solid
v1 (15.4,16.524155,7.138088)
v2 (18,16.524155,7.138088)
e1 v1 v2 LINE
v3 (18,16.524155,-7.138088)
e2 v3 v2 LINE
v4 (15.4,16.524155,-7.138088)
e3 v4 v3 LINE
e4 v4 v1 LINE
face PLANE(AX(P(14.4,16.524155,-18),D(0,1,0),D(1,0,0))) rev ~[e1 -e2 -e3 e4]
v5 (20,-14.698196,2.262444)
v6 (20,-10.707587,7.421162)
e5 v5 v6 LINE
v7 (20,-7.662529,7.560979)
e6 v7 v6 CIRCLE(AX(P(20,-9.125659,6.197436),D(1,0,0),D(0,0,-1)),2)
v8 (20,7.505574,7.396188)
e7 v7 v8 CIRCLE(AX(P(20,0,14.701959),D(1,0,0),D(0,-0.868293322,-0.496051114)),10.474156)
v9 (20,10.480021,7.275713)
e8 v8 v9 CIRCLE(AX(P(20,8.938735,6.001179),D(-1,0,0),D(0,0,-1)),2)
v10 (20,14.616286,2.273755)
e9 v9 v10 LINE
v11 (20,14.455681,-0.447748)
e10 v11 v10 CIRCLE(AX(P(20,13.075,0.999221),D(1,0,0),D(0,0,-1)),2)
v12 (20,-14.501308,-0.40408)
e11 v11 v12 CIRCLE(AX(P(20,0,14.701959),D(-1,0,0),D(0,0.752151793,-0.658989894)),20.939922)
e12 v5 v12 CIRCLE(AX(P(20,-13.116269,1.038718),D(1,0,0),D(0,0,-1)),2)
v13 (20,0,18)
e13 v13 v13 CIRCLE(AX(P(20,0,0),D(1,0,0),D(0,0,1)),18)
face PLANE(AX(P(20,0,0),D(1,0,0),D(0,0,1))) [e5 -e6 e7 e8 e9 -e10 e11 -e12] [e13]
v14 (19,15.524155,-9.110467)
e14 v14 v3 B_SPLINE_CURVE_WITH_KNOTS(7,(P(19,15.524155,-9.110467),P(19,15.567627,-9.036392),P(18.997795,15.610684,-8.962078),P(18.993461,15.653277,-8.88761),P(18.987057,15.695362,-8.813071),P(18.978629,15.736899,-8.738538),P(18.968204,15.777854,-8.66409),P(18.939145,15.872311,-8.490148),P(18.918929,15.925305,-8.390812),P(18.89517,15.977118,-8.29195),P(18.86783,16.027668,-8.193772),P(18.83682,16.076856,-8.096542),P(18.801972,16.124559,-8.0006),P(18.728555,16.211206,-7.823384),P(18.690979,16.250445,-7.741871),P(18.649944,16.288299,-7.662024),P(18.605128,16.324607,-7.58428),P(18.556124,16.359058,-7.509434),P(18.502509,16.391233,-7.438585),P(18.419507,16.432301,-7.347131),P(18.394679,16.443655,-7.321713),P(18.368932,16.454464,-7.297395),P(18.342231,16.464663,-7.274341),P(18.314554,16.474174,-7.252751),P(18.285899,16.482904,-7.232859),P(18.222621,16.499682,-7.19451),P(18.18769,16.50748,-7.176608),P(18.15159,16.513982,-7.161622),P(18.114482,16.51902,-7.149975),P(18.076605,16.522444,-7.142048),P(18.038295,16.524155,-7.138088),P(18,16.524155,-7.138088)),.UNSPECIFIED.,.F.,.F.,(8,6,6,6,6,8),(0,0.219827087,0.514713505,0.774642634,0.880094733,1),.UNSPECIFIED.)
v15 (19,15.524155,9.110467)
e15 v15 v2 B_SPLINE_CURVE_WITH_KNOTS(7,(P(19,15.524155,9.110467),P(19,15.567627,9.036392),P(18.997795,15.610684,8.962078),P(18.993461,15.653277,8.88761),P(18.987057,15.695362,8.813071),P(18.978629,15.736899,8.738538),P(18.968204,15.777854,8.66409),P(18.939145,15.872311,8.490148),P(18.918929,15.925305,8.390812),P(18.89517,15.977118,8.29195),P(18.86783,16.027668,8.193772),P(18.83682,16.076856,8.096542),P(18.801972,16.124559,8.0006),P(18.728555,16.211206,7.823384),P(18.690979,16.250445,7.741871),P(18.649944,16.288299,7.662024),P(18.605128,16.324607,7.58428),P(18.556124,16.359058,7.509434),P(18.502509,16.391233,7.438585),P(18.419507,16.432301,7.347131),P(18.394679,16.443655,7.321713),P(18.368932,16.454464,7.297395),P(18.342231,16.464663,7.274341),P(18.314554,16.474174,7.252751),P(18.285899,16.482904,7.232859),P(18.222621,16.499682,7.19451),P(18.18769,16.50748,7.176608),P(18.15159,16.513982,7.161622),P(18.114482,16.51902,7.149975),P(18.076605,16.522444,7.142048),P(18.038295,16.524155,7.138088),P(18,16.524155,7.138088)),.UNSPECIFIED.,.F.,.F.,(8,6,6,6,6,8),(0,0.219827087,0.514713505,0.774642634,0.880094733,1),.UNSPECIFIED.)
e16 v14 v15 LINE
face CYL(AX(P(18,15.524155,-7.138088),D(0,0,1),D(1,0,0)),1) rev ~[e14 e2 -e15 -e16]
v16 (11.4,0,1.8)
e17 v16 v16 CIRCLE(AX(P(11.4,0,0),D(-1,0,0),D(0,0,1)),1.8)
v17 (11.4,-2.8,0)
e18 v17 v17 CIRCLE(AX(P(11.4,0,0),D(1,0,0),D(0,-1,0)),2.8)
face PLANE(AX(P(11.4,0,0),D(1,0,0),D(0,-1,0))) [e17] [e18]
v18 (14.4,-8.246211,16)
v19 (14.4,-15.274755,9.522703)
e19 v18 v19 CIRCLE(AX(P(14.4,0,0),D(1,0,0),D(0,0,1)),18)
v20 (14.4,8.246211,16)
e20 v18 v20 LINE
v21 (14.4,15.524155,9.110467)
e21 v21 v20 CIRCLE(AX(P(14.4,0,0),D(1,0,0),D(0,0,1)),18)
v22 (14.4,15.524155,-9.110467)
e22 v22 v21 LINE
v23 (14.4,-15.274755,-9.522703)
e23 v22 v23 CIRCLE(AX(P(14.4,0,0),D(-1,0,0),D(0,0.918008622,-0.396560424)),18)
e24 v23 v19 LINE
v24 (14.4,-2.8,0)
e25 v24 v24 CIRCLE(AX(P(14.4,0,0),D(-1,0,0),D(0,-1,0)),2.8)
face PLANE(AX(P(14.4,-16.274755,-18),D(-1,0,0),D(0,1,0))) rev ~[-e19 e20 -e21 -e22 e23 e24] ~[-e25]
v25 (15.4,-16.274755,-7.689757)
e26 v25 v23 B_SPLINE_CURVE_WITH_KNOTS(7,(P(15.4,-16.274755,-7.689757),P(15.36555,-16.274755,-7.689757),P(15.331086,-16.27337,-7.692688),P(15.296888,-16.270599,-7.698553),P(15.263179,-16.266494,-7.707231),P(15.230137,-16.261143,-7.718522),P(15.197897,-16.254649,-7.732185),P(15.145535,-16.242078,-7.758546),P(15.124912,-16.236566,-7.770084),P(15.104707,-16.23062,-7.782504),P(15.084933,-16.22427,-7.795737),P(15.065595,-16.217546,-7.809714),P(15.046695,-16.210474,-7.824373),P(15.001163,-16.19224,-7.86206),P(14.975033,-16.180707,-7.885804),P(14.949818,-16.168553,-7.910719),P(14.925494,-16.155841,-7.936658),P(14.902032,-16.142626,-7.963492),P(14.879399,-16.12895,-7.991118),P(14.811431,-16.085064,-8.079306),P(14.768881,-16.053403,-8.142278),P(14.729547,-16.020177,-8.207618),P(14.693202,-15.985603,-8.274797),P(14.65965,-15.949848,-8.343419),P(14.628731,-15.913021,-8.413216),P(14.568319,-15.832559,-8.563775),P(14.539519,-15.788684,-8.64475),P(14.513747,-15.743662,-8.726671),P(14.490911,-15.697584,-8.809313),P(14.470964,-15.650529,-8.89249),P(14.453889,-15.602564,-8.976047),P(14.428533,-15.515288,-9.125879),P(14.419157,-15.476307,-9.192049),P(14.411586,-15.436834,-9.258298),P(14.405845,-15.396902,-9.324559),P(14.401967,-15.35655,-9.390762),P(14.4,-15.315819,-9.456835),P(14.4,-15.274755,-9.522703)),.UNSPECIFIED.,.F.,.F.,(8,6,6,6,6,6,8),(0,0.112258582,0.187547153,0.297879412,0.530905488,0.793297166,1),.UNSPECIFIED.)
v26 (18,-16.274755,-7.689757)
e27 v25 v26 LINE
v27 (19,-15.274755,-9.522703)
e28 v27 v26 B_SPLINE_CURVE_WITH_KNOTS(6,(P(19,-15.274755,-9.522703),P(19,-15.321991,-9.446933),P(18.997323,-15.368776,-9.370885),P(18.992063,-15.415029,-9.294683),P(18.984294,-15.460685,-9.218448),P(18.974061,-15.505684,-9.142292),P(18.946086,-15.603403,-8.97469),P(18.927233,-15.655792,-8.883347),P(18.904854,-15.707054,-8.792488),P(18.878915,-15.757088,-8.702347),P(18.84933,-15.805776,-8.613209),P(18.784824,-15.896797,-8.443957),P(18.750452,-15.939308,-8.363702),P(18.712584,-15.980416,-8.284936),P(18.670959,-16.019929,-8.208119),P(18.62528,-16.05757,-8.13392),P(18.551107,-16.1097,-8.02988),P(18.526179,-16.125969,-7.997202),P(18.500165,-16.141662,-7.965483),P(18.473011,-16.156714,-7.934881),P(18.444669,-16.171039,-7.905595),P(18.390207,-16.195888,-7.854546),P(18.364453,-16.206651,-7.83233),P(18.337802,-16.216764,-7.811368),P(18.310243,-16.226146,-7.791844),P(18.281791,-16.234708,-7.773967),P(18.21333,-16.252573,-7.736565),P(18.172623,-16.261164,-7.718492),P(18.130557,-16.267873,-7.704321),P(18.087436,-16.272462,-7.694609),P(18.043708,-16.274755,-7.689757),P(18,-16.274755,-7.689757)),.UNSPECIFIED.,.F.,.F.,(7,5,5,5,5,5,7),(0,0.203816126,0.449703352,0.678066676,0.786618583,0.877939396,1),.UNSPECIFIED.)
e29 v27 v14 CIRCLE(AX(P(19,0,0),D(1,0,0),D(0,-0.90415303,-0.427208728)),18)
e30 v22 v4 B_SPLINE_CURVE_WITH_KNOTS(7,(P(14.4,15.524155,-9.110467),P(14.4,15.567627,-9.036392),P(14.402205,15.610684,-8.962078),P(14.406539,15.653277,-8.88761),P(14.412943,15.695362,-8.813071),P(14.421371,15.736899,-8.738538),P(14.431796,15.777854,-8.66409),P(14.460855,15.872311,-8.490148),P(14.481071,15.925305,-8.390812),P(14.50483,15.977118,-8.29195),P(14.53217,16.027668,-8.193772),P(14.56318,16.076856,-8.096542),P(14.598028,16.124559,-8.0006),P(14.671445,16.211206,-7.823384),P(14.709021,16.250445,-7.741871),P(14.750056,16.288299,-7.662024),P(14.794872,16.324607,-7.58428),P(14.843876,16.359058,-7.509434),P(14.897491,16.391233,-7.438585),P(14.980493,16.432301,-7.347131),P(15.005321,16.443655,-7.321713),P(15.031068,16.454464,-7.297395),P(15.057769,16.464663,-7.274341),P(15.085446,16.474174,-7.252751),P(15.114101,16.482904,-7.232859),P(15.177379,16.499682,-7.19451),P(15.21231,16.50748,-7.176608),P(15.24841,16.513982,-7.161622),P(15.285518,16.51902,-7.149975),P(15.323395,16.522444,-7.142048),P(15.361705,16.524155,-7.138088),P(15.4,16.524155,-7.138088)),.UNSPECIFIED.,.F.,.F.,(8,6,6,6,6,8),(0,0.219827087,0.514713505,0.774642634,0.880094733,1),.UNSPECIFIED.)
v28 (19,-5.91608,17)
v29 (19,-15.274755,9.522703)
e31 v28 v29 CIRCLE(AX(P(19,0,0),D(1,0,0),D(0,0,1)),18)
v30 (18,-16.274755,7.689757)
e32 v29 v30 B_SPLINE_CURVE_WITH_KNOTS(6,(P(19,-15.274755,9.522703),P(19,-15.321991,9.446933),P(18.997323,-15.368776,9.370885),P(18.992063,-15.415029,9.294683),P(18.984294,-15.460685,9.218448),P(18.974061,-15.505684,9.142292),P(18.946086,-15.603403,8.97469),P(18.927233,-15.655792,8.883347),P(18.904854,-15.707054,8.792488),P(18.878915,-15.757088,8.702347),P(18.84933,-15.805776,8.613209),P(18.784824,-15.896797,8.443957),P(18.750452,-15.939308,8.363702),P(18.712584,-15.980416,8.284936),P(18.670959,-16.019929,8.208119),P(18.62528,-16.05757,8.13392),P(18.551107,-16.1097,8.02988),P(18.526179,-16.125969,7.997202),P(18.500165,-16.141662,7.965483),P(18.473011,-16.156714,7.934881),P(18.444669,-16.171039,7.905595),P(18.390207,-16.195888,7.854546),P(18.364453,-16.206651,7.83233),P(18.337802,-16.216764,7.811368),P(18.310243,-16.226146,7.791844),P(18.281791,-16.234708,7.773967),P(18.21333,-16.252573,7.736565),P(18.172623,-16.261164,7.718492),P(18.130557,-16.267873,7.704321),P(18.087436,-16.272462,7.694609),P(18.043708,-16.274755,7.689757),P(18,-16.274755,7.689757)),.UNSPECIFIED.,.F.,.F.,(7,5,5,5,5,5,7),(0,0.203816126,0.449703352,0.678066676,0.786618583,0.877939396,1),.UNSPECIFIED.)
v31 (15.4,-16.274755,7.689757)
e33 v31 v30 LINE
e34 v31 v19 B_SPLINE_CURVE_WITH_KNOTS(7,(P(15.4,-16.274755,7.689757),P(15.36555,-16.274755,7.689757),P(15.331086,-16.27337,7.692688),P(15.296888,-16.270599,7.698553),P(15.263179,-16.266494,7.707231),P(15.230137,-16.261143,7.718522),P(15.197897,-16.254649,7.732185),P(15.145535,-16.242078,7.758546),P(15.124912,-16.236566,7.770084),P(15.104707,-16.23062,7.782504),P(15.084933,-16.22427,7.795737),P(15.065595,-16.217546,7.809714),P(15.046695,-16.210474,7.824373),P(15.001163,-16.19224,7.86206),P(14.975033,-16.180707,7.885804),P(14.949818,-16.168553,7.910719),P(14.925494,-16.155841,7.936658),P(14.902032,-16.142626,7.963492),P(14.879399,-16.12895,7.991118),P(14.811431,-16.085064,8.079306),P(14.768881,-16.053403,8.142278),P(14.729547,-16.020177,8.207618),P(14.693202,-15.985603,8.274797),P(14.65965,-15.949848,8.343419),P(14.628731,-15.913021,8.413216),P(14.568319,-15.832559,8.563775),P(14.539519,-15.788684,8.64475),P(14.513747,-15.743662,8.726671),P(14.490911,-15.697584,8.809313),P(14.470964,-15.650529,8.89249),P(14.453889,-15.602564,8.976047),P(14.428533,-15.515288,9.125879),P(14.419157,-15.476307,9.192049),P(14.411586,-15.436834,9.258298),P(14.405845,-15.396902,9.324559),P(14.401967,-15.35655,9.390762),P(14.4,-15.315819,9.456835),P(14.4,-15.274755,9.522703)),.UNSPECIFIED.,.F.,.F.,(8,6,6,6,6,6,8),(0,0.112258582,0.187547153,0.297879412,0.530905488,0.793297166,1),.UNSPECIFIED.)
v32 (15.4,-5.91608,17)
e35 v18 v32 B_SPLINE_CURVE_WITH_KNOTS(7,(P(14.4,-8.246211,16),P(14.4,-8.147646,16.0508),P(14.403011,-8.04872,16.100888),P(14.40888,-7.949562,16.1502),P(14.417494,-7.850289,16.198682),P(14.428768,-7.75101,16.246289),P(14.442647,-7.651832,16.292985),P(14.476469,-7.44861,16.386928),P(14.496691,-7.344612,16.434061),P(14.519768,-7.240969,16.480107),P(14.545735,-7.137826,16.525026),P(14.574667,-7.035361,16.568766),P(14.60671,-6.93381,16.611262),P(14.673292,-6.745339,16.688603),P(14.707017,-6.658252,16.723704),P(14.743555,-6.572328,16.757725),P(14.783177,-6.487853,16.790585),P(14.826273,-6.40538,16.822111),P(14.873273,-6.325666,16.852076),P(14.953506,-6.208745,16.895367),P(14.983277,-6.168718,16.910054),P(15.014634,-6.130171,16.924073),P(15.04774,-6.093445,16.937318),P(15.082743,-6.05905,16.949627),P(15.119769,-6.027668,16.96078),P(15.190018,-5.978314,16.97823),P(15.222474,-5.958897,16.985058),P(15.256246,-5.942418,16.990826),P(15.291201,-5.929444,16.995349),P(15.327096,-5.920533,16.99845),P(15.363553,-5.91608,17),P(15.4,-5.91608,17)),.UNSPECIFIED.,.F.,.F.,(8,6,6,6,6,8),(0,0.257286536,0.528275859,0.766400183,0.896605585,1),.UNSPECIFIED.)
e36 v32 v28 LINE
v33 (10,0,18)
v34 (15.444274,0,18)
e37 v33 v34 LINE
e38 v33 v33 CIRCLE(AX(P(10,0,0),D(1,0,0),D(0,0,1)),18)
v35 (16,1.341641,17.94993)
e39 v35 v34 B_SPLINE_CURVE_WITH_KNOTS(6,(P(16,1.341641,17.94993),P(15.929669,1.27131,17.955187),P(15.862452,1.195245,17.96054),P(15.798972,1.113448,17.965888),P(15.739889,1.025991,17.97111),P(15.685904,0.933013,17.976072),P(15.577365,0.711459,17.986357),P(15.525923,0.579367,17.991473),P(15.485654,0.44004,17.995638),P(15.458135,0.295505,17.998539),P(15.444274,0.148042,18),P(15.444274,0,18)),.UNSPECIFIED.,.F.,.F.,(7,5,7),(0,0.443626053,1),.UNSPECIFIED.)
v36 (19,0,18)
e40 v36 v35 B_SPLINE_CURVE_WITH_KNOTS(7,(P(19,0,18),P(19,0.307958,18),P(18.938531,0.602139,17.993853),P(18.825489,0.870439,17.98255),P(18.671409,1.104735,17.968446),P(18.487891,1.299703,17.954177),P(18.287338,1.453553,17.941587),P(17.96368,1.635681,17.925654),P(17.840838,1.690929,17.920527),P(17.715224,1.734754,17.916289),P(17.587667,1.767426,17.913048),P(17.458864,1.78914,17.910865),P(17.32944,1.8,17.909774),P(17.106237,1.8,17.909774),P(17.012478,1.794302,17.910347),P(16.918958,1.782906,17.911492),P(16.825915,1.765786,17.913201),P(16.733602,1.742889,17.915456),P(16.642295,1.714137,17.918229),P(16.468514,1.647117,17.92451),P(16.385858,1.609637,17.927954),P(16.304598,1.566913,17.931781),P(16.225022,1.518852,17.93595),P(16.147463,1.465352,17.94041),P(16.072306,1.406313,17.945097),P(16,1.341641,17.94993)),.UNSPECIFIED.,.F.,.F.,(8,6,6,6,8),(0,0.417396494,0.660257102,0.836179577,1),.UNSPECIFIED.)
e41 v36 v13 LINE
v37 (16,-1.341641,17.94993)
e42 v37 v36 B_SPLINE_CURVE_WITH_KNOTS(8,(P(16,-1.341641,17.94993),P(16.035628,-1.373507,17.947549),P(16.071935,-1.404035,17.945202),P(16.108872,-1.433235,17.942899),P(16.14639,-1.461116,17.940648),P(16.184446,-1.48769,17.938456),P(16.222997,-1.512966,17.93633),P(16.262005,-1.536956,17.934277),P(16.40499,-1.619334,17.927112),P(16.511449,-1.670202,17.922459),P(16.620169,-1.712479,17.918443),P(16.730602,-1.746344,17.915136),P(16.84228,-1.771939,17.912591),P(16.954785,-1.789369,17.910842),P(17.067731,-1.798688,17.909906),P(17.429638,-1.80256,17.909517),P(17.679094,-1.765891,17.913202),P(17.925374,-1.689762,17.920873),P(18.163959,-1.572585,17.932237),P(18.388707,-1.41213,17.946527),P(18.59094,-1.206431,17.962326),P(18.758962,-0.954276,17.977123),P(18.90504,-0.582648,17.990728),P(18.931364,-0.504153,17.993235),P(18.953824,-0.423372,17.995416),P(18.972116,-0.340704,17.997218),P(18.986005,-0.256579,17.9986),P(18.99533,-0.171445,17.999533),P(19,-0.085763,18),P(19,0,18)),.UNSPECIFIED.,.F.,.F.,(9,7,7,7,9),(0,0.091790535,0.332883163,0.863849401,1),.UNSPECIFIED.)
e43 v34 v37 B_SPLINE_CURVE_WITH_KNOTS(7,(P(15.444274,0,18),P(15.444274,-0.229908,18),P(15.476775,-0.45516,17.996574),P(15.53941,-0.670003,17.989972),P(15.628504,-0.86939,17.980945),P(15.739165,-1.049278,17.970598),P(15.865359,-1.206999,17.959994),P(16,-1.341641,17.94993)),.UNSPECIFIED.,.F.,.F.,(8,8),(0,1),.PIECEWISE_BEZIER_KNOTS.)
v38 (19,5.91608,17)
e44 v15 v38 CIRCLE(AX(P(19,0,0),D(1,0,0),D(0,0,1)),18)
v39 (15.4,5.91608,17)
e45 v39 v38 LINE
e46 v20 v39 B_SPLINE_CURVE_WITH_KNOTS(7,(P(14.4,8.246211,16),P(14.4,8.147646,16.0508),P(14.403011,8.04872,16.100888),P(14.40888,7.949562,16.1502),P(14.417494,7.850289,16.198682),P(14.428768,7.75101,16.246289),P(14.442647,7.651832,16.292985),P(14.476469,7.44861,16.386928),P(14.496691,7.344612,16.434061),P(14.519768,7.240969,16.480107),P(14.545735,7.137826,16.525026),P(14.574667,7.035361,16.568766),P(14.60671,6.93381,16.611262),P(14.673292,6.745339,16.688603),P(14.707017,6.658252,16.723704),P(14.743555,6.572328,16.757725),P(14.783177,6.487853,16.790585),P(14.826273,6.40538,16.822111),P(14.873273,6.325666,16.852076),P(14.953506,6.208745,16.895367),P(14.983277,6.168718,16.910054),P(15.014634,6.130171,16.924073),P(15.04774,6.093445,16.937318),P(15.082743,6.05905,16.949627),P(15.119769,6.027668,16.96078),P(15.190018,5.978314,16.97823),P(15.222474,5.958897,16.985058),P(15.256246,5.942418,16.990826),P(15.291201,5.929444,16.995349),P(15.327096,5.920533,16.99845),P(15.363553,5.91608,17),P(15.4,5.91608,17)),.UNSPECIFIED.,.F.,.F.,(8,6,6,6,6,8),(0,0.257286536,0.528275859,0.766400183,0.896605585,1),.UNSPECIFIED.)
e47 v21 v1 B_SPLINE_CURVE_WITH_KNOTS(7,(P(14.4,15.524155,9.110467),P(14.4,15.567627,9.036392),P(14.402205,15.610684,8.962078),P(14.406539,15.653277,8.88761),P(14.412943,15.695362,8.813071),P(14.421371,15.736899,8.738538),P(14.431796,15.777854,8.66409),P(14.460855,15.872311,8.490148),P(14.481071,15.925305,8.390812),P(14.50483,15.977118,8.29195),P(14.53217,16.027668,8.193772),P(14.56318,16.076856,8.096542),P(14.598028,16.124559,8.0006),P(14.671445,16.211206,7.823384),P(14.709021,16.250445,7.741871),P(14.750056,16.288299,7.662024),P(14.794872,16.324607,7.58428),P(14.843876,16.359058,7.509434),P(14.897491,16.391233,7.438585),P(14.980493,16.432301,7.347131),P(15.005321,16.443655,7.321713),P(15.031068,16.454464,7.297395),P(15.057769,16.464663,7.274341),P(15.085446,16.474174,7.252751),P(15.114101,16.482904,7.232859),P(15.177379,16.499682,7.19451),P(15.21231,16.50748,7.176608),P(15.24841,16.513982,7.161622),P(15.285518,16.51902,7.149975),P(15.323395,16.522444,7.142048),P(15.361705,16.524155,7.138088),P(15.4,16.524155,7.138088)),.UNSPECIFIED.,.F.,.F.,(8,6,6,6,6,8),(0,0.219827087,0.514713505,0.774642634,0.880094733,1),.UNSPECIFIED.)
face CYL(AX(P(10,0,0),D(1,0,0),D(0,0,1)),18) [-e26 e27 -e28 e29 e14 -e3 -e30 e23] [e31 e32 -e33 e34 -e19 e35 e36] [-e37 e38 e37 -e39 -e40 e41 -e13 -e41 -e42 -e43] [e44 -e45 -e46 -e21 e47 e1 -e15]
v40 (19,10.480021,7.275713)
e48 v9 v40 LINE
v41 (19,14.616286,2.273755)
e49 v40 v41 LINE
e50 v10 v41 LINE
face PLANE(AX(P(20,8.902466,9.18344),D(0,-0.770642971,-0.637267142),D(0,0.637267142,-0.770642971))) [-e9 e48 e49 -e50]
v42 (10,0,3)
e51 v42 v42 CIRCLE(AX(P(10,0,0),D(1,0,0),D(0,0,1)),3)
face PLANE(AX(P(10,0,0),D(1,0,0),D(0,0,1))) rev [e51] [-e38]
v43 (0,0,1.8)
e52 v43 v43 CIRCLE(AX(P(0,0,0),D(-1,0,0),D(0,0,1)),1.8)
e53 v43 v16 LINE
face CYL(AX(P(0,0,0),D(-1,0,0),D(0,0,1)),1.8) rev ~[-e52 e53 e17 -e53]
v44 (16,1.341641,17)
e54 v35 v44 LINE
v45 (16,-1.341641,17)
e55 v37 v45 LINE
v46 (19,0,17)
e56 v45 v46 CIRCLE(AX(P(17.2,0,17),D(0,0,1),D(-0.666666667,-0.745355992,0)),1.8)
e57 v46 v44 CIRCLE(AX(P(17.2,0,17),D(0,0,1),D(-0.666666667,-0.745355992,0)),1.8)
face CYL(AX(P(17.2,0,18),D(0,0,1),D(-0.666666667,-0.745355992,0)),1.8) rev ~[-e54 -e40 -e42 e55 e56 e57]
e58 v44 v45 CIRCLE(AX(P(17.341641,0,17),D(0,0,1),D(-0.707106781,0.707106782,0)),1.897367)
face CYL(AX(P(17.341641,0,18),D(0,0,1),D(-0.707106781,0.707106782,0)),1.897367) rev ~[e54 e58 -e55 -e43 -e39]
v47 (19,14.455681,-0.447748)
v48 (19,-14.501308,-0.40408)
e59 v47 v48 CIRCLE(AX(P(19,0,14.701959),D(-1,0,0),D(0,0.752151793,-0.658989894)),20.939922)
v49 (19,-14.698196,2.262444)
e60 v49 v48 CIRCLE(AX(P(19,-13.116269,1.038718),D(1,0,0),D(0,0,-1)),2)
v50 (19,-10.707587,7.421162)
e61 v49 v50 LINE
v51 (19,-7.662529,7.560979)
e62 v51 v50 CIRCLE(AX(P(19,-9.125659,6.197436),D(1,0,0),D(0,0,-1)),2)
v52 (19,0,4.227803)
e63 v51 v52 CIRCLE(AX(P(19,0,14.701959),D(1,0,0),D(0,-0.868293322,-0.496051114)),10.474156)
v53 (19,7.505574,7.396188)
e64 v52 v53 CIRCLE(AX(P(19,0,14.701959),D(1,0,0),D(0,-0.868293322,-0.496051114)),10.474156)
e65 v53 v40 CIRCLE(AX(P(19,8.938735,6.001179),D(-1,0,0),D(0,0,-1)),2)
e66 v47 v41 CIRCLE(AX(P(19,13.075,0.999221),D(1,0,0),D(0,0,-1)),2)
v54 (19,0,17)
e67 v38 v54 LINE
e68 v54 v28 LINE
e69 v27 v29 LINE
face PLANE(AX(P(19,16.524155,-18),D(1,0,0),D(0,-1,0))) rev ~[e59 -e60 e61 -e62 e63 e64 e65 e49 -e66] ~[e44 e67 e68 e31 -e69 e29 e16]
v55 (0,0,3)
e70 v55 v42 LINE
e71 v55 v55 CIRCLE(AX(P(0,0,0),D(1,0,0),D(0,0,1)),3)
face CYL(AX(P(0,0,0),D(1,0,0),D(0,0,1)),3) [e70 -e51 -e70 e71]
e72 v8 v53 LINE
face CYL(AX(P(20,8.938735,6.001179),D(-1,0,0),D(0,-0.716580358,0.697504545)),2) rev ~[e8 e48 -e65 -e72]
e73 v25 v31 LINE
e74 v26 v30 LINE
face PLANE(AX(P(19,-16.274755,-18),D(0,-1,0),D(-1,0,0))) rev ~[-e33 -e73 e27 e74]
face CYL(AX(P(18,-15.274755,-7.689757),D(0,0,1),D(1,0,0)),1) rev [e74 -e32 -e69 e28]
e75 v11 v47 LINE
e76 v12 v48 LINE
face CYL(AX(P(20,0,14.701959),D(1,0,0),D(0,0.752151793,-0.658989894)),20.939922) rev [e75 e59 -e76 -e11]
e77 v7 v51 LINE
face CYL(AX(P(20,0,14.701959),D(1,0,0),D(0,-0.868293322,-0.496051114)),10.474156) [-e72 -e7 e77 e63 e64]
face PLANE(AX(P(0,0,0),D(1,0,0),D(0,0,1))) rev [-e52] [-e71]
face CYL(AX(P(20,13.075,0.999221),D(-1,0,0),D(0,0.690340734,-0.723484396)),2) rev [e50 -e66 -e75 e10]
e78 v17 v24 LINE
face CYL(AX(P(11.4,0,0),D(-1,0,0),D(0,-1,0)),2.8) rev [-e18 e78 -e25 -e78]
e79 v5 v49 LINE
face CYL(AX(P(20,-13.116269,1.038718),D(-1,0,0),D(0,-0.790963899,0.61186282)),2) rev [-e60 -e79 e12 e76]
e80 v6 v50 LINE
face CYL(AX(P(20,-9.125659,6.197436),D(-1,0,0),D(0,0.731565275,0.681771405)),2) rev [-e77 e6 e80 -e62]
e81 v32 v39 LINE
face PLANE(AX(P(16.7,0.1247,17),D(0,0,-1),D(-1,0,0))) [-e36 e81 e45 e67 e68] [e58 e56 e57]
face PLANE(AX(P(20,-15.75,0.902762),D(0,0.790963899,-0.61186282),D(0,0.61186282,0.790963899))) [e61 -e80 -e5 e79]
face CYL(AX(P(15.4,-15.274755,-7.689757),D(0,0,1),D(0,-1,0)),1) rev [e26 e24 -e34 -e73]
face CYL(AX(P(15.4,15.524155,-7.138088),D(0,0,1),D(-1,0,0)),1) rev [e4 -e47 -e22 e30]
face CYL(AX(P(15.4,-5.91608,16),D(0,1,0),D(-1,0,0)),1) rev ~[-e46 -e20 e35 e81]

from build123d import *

# Parameters (mm, degrees)
CORTAR_EXTRUIR1_DEPTH      = 1
CORTAR_EXTRUIR3_DEPTH      = 35
CORTAR_EXTRUIR4_DEPTH      = 24
CORTAR_EXTRUIR5_REACH      = 34.373
CROQUIS6_R                 = 1.8
CORTAR_EXTRUIR6_DEPTH      = 30.24653838
CORTAR_EXTRUIR6_DEPTH_BACK = 3
CROQUIS7_R                 = 2.8
REDONDEO1_R                = 2
REDONDEO2_R                = 1
REDONDEO3_R                = 1


with BuildPart() as part:
    # Croquis1 → Revolución1 (revolve)
    with BuildSketch(Plane.XY, mode=Mode.PRIVATE) as revoluci_n1_sk:
        Polygon((0, 0), (0, 3), (10, 3), (10, 18), (20, 18), (20, 0), align=None)
    revolve(revoluci_n1_sk.sketch.rotate(Axis((-25.36492891, 0, 0), (1, 0, 0)), 90), axis=Axis((-25.36492891, 0, 0), (1, 0, 0)))

    # Croquis2 → Cortar-Extruir1 (cut)
    with BuildSketch(Plane(origin=(20, 0, 0), x_dir=(0, 0, -1), z_dir=(1, 0, 0))):
        with BuildLine():
            Line((-9.183440496, 8.902465622), (-0.902762127, 15.75))
            ThreePointArc((-0.902762127, 15.75), (6.237962948, 0), (-0.902762127, -15.75))
            Line((-0.902762127, -15.75), (-9.50624249, -9.09463967))
            ThreePointArc((-9.50624249, -9.09463967), (-4.229487685, -0.187837691), (-9.183440496, 8.902465622))
        make_face()
    extrude(amount=-CORTAR_EXTRUIR1_DEPTH, mode=Mode.SUBTRACT)

    # Croquis4 → Cortar-Extruir3 (cut)
    with BuildSketch(Plane(origin=(0, 0, -18), x_dir=(-1, 0, 0), z_dir=(0, 0, -1))):
        Polygon((-19, 15.75), (-19, 8.902465622), (-19, -9.09463967), (-19, -15.75), (-19, -16.274754547), (-14.4, -16.274754547), (-14.4, 16.524155196), (-19, 16.524155196), align=None)
    extrude(amount=-CORTAR_EXTRUIR3_DEPTH, mode=Mode.SUBTRACT)

    # Croquis5 → Cortar-Extruir4 (cut)
    with BuildSketch(Plane.XY.offset(18)):
        with BuildLine():
            ThreePointArc((16, -1.341640786), (19, 0), (16, 1.341640786))
            ThreePointArc((16, 1.341640786), (15.44427419, 0), (16, -1.341640786))
        make_face()
    extrude(amount=-CORTAR_EXTRUIR4_DEPTH, mode=Mode.SUBTRACT)

    # Croquis6 → Cortar-Extruir5 (cut, up to next)
    with BuildSketch(Plane.ZY, mode=Mode.PRIVATE) as cortar_extruir5_sk1:
        Circle(CROQUIS6_R)
    cortar_extruir5_tool1 = extrude(cortar_extruir5_sk1.sketch, amount=-CORTAR_EXTRUIR5_REACH, mode=Mode.PRIVATE) & part.part
    add(cortar_extruir5_tool1.solids().sort_by_distance((0, 0, 0))[0], mode=Mode.SUBTRACT)

    # Croquis7 → Cortar-Extruir6 (cut, two sides: drawn at the far end of the back side and taken through both)
    with BuildSketch(Plane(origin=(14.4, 0, 0), x_dir=(0, 0, -1), z_dir=(1, 0, 0)).offset(-CORTAR_EXTRUIR6_DEPTH_BACK)):
        with Locations(Location((0, 0, 0), (0, 0, 270))):
            Circle(CROQUIS7_R)
    extrude(amount=CORTAR_EXTRUIR6_DEPTH + CORTAR_EXTRUIR6_DEPTH_BACK, mode=Mode.SUBTRACT)

    # Redondeo1
    redondeo1_edges = [part.edges().sort_by_distance(p)[0] for p in [
        (19.5, 15.75, 0.902762127),
        (19.5, -15.75, 0.902762127),
        (19.5, -9.09463967, 9.50624249),
        (19.5, 8.902465622, 9.183440496),
    ]]
    fillet(redondeo1_edges, radius=REDONDEO1_R)

    # Redondeo2
    redondeo2_edges = [part.edges().sort_by_distance(p)[0] for p in [
        (19, 16.524155196, 0),
        (14.4, 16.524155196, 0),
        (14.4, -16.274754547, 0),
        (19, -16.274754547, 0),
    ]]
    fillet(redondeo2_edges, radius=REDONDEO2_R)

    # Redondeo3
    redondeo3_edges = [part.edges().sort_by_distance(p)[0] for p in [
        (14.4, 0, 17),
    ]]
    fillet(redondeo3_edges, radius=REDONDEO3_R)


solid = part.part
